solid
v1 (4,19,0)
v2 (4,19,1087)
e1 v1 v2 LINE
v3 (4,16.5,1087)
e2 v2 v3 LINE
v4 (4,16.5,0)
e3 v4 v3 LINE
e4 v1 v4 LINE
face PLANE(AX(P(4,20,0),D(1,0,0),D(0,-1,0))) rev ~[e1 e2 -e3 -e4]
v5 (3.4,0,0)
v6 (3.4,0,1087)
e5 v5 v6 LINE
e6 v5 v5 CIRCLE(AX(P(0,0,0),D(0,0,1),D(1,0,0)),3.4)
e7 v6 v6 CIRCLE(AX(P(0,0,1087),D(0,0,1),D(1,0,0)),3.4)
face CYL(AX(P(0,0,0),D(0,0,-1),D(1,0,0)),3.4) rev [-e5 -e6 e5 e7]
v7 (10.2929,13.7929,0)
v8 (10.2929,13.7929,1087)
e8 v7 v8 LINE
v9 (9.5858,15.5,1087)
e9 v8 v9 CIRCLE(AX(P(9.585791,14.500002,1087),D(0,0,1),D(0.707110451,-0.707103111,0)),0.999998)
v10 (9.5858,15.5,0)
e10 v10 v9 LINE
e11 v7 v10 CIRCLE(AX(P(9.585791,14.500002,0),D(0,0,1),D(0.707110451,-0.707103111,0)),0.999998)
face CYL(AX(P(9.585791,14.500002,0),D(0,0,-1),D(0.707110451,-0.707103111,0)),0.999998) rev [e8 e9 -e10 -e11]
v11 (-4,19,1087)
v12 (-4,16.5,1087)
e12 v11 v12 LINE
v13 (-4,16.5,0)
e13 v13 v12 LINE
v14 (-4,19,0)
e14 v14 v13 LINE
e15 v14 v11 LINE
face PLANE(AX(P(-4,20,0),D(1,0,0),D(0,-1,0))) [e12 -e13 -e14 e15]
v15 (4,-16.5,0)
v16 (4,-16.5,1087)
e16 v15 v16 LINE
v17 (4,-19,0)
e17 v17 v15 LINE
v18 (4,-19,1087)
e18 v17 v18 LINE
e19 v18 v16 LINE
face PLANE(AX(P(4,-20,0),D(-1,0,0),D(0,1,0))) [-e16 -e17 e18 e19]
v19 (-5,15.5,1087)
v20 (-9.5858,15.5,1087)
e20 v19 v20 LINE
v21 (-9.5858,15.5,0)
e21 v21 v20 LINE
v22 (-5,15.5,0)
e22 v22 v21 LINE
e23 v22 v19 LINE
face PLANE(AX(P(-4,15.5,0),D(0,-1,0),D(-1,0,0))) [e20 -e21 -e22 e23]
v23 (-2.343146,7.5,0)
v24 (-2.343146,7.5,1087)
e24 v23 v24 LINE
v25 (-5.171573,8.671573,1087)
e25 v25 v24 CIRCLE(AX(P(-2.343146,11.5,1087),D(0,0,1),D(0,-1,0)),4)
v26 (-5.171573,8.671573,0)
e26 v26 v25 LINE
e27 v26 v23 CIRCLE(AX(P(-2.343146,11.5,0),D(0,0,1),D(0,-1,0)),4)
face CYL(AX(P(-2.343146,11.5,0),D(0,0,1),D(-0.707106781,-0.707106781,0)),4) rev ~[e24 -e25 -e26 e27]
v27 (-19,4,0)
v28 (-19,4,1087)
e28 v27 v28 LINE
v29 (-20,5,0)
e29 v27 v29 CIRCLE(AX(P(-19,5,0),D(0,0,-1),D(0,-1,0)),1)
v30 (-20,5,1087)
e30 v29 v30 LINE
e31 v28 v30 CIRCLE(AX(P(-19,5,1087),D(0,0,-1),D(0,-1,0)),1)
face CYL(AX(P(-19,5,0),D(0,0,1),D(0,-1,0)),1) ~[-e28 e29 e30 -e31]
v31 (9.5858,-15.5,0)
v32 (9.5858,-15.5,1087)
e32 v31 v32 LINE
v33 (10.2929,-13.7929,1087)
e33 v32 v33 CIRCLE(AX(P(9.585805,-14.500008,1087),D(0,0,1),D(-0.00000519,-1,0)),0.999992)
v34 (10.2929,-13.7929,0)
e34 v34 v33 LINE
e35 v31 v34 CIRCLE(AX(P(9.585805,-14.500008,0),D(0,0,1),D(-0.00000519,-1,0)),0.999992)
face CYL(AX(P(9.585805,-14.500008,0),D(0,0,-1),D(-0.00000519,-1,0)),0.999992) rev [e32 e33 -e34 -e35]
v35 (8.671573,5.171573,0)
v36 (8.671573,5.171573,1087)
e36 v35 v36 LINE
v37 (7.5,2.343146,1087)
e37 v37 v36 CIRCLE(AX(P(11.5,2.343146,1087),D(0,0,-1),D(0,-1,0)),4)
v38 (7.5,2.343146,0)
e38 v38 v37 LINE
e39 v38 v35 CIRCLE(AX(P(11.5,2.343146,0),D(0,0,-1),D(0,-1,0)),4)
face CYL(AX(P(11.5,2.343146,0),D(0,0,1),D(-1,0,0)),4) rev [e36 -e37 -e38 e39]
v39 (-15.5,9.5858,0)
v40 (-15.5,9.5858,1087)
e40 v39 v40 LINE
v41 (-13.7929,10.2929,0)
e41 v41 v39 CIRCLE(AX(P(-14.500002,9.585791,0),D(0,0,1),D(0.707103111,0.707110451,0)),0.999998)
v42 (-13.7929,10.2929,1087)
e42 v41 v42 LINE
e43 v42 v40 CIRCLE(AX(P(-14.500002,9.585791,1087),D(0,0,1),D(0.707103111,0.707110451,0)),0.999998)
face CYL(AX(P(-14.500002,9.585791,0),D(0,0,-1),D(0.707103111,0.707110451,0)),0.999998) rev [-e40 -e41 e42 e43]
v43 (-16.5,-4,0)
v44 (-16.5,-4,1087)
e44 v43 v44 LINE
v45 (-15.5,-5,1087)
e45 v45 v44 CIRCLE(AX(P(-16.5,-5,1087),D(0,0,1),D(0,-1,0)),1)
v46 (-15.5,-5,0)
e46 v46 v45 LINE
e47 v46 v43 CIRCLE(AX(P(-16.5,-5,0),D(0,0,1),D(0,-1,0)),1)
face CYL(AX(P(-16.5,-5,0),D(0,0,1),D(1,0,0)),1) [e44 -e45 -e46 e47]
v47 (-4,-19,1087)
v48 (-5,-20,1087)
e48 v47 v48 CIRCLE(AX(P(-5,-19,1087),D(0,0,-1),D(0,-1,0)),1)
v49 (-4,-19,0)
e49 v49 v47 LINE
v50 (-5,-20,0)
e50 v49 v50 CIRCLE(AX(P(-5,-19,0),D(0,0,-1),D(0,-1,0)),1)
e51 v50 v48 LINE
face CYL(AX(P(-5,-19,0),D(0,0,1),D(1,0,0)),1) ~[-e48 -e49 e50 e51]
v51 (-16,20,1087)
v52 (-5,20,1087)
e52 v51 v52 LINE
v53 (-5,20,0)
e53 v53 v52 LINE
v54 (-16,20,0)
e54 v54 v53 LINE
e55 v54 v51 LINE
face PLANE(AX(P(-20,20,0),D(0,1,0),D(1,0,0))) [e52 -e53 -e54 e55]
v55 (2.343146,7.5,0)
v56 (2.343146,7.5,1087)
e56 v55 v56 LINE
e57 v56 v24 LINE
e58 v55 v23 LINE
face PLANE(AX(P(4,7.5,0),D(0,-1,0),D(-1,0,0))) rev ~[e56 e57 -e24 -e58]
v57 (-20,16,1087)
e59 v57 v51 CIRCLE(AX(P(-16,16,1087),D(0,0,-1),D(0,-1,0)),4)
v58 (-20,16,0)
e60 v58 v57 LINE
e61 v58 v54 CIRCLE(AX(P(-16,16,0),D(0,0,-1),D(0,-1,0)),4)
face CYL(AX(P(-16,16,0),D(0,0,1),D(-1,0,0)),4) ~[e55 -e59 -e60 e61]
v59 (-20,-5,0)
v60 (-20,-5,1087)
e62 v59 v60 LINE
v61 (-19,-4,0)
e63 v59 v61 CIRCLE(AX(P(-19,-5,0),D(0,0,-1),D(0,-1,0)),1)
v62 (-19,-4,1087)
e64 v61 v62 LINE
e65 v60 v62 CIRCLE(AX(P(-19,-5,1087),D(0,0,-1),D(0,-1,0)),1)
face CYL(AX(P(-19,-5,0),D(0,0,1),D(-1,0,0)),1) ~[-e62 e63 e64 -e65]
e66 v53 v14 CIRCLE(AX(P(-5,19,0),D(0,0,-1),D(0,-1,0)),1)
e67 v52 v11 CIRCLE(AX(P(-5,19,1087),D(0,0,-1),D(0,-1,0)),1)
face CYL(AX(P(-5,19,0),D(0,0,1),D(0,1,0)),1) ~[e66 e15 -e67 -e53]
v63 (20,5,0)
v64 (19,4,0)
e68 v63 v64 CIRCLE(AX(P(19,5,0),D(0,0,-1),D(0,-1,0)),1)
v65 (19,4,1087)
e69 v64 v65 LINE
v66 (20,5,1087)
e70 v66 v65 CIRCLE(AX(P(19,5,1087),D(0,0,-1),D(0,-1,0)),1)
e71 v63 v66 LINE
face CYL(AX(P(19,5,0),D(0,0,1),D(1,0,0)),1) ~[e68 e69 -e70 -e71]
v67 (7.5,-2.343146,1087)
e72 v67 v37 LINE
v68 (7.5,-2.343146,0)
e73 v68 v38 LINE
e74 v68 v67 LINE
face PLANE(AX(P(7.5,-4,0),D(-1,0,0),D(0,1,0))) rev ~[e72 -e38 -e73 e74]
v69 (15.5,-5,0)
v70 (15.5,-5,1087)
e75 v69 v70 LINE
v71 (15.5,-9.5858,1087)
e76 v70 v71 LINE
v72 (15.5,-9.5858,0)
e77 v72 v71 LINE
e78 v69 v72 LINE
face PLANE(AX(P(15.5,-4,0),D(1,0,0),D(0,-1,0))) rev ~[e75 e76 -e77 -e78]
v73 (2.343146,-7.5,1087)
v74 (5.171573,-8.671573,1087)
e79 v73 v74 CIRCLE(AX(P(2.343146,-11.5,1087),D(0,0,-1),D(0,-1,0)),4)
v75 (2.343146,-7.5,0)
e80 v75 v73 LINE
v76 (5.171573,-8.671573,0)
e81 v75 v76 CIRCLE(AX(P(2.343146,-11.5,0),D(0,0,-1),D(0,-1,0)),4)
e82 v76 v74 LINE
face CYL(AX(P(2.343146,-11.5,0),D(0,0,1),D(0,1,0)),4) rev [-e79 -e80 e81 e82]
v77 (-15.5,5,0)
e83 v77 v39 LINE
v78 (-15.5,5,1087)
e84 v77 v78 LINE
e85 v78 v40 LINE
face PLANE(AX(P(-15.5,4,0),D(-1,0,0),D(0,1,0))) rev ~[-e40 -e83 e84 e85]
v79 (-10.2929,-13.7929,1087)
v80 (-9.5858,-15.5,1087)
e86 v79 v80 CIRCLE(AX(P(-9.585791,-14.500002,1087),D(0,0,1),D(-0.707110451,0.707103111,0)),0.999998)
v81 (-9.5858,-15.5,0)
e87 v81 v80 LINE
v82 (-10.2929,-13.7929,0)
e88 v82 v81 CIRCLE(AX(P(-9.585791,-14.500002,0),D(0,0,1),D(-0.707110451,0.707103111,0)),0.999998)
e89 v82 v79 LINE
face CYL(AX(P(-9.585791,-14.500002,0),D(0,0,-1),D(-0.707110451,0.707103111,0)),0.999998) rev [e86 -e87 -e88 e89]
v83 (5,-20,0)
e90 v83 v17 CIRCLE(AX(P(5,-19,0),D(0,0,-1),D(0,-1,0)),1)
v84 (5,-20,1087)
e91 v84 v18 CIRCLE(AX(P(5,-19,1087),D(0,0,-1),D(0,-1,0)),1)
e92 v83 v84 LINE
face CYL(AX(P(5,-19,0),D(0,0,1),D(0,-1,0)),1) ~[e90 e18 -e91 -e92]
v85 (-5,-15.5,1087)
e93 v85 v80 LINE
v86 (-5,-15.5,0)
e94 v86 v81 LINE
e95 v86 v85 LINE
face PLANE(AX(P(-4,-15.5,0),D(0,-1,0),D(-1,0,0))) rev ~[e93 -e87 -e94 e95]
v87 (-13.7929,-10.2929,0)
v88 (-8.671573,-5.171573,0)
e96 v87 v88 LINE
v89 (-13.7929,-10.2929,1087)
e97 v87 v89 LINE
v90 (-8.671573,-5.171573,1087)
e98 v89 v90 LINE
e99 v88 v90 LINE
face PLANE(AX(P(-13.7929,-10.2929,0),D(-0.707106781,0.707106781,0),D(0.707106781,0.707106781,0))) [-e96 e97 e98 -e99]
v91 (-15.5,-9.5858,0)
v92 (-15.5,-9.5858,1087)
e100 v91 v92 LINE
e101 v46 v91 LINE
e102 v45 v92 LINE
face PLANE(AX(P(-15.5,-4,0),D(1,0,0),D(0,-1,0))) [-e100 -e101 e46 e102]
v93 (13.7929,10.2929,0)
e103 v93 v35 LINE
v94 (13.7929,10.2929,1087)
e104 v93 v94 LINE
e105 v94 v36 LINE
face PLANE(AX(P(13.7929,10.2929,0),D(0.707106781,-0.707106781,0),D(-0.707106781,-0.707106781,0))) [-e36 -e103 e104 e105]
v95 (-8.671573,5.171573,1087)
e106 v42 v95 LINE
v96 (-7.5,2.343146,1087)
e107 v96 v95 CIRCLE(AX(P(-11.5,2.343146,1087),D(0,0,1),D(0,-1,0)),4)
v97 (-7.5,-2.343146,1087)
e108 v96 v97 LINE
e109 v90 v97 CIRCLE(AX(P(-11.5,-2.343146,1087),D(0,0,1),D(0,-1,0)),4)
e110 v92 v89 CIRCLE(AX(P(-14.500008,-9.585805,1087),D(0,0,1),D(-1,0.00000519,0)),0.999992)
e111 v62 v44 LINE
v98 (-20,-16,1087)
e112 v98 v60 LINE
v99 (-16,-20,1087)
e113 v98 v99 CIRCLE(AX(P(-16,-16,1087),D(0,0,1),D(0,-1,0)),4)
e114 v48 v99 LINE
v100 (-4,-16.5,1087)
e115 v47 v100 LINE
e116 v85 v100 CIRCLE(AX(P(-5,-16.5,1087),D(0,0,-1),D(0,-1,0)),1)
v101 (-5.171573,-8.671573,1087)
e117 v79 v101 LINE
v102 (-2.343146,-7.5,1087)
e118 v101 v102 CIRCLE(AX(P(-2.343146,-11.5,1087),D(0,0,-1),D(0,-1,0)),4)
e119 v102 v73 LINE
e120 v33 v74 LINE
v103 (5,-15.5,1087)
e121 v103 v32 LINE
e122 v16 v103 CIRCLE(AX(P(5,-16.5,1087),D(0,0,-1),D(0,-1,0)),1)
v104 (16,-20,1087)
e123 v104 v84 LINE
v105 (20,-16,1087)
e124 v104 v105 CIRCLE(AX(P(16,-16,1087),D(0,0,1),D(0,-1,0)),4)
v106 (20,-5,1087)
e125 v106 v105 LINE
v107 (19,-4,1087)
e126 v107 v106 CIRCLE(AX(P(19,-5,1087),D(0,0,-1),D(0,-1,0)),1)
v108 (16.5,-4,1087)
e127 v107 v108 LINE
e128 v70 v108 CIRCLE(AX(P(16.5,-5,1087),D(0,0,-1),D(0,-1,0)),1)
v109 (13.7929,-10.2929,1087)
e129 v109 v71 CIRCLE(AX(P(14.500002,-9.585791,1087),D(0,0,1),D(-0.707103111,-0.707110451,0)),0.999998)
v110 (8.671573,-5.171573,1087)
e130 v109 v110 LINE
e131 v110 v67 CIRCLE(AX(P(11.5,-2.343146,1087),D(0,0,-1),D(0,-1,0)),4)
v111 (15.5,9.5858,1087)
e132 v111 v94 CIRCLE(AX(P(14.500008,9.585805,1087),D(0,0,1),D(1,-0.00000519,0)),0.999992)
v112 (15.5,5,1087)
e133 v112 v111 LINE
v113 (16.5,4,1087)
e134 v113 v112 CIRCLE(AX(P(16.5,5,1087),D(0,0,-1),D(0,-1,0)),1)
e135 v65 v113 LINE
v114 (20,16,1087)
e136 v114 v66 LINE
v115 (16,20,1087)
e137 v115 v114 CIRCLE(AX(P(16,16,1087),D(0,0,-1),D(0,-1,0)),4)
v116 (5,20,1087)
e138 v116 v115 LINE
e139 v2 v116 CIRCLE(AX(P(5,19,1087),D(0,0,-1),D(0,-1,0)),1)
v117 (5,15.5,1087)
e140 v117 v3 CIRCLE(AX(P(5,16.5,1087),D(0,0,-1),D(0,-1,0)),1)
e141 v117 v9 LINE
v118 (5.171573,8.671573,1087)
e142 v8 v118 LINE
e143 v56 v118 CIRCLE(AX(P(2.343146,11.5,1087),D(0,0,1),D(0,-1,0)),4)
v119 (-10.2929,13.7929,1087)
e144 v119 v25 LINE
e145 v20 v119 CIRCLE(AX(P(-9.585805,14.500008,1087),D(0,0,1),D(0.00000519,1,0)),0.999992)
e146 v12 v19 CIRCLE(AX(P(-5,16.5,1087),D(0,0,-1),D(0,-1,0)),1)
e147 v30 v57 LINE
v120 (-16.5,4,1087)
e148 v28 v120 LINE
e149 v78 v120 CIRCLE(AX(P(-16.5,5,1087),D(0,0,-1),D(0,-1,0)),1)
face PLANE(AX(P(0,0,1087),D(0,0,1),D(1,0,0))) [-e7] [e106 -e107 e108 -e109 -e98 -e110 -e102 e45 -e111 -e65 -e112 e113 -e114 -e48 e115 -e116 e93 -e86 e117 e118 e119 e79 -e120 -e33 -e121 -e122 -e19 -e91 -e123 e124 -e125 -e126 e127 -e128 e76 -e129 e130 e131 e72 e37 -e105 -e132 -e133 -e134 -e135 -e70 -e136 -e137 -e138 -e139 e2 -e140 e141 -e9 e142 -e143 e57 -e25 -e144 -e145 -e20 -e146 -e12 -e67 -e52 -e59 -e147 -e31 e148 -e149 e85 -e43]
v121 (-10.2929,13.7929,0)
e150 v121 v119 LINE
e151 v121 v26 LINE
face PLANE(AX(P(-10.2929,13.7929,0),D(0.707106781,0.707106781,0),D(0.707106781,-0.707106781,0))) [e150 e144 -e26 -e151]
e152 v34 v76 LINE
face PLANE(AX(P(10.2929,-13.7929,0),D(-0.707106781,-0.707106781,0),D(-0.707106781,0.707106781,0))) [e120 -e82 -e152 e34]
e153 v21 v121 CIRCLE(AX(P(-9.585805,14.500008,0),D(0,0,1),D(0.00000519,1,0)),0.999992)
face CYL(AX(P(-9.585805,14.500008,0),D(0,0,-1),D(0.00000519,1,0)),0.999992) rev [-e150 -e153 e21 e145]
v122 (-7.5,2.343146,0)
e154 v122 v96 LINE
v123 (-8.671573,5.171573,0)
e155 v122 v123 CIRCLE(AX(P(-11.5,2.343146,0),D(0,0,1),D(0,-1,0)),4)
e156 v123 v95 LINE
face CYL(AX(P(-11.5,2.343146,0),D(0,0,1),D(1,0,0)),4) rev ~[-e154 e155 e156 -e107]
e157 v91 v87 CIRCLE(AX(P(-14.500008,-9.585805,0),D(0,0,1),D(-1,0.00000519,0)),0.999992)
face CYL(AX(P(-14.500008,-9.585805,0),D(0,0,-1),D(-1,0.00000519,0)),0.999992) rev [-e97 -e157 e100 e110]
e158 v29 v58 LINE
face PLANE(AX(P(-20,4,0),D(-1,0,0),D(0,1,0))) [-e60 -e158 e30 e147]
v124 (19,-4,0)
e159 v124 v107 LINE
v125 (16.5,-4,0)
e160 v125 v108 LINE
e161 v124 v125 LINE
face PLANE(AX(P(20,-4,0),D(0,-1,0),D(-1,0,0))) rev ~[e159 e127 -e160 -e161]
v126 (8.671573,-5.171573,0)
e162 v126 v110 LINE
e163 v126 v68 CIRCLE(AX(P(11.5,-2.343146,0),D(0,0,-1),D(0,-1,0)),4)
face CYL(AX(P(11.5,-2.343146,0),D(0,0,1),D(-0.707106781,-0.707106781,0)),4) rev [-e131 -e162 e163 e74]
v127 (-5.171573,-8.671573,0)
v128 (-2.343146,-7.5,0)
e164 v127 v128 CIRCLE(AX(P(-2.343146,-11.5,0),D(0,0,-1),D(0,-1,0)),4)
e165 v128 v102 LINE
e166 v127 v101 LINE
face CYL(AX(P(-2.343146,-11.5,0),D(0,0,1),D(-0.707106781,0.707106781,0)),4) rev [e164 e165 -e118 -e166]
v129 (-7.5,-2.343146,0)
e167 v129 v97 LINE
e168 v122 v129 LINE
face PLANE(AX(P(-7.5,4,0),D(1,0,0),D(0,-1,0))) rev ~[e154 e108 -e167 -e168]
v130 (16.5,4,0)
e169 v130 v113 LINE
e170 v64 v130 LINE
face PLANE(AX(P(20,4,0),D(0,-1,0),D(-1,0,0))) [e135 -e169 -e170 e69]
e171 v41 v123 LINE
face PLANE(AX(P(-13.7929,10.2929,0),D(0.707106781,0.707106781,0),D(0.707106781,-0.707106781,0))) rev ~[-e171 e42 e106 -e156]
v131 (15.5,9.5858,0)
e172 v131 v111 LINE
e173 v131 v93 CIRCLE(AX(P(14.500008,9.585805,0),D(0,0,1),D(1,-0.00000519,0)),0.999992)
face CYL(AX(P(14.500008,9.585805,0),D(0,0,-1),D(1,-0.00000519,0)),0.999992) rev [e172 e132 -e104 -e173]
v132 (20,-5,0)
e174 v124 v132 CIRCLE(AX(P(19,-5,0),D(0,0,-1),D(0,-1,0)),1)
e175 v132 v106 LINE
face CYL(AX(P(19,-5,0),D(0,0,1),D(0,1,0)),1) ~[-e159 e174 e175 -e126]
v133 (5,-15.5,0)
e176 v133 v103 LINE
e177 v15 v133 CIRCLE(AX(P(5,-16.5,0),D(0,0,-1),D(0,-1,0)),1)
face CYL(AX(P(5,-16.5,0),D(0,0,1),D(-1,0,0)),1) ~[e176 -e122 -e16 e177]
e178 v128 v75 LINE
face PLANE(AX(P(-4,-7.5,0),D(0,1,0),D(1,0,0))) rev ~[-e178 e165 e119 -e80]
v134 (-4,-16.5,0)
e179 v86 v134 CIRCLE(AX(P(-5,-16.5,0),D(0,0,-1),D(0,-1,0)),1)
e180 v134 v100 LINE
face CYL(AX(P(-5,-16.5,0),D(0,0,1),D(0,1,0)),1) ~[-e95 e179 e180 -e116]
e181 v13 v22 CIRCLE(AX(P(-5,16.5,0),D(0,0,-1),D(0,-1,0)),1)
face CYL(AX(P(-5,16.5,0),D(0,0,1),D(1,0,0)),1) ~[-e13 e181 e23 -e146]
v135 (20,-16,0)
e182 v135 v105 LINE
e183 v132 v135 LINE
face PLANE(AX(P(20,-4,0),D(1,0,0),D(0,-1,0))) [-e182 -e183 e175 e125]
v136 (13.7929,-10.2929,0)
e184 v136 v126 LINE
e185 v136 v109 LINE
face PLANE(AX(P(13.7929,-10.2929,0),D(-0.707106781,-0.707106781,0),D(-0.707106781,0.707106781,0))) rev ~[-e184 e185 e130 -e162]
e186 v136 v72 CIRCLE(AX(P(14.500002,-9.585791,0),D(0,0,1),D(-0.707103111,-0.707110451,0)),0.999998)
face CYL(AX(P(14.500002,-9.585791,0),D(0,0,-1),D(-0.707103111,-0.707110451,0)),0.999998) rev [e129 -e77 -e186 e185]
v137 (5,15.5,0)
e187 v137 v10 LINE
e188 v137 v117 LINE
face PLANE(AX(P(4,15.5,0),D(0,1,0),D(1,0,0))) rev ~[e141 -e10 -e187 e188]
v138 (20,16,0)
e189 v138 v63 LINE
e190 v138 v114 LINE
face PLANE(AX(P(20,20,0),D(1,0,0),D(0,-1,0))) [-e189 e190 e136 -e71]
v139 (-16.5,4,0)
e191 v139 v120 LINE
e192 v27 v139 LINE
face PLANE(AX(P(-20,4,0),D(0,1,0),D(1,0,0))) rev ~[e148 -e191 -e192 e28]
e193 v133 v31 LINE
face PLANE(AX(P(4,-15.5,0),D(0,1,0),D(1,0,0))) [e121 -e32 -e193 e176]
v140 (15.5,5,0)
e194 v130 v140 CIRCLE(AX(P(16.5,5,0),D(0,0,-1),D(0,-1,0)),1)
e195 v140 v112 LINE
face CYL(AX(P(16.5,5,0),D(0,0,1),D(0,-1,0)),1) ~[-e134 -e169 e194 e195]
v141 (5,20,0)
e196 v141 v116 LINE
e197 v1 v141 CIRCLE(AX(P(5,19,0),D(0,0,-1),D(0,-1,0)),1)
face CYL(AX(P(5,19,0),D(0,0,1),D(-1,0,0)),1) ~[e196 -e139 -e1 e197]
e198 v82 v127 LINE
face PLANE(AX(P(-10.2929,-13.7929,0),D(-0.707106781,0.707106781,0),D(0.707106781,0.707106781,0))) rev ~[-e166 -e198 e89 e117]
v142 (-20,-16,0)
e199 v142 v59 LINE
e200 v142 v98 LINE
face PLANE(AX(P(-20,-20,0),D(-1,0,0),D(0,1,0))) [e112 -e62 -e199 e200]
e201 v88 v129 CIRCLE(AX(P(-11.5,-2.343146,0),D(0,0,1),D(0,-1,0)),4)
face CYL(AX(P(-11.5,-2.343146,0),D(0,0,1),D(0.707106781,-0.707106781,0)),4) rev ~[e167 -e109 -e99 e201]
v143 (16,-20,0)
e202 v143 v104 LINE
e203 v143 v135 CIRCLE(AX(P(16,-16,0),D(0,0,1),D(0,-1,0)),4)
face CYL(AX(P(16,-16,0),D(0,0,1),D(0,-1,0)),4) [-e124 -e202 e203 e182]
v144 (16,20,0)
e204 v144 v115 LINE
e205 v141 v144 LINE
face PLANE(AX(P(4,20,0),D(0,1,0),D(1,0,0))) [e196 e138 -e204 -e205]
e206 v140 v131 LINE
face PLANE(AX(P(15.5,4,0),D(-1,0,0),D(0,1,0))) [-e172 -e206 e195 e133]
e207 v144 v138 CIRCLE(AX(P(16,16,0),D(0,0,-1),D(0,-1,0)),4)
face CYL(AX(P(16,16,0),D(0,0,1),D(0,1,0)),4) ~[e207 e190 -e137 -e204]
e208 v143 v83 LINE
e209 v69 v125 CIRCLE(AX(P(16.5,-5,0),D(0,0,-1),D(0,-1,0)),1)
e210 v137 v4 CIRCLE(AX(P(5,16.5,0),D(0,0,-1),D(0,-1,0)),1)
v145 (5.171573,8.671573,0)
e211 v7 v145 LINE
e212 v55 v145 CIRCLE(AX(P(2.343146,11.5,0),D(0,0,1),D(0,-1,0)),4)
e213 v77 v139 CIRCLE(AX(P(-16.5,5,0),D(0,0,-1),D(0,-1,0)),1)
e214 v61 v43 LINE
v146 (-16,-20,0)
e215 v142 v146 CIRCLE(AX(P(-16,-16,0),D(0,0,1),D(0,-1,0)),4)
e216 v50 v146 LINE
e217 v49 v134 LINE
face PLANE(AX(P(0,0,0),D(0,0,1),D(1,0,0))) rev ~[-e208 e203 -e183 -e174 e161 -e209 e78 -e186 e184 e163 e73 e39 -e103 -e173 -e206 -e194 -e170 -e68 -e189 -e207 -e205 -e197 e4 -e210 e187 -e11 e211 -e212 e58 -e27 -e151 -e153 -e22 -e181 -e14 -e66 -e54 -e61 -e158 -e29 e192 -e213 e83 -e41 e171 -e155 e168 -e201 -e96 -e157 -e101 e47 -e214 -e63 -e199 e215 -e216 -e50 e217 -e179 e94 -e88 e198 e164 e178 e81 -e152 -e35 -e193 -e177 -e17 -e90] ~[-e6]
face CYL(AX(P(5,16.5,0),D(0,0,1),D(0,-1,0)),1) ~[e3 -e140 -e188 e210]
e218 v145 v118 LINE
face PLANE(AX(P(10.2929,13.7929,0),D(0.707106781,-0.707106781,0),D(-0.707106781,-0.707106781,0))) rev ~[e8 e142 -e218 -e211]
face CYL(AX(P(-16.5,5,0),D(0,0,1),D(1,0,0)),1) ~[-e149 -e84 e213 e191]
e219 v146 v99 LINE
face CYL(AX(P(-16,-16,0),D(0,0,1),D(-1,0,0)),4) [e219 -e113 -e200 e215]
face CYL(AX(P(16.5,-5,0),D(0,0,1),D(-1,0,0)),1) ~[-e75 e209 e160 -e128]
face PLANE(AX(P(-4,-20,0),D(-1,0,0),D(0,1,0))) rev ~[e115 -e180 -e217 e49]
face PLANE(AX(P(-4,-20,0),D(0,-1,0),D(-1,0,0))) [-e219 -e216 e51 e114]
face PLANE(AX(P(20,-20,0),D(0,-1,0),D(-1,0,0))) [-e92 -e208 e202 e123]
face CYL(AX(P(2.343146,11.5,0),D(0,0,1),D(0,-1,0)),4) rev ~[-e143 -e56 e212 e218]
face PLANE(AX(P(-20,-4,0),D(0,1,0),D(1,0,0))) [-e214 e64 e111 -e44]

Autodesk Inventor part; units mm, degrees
ref_plane "YZ Plane" through (0, 0, 0) normal (1, 0, 0) x (0, 1, 0)
ref_plane "XZ Plane" through (0, 0, 0) normal (0, 1, 0) x (-1, 0, 0)
ref_plane "XY Plane" through (0, 0, 0) normal (0, 0, 1) x (1, 0, 0)
sketch "T-Slot 4040 Base" plane through (0, 0, 0) normal (0, 0, 1) x (1, 0, 0)
  line L0 (-28, 0) -> (28, 0) construction
  line L1 (0, -28) -> (0, 28) construction
  circle A0 centre (0, 0) radius 3.4
  line L2 (-7.5, -7.5) -> (7.5, -7.5)
  line L3 (7.5, -7.5) -> (7.5, 7.5)
  line L4 (7.5, 7.5) -> (-7.5, 7.5)
  line L5 (-7.5, 7.5) -> (-7.5, -7.5)
  line L6 (-7.5, -7.5) -> (7.5, 7.5) construction
  line L7 (7.5, -7.5) -> (-7.5, 7.5) construction
  line L8 (20, 4) -> (15.5, 4)
  line L9 (15.5, 4) -> (15.5, 12)
  line L10 (15.5, 12) -> (7.5, 4)
  line L11 (4, 20) -> (4, 15.5)
  line L12 (4, 15.5) -> (12, 15.5)
  line L13 (12, 15.5) -> (4, 7.5)
  line L14 (7.5, -7.5) -> (-7.5, -7.5)
  arc A1 (15.5, 9.5858) -> (13.7929, 10.2929) centre (14.5, 9.5858) ccw
  arc A2 (10.2929, 13.7929) -> (9.5858, 15.5) centre (9.5858, 14.5) ccw
  line L15 (-20, 20) -> (20, 20)
  line L16 (20, 20) -> (20, -20)
  line L17 (20, -20) -> (-20, -20)
  line L18 (-20, -20) -> (-20, 20)
  line L19 (-20, 20) -> (20, -20) construction
  line L20 (20, 20) -> (-20, -20) construction
  line L21 (-4, 15.5) -> (-12, 15.5)
  arc A3 (-9.5858, 15.5) -> (-10.2929, 13.7929) centre (-9.5858, 14.5) ccw
  line L22 (-12, 15.5) -> (-4, 7.5)
  line L23 (-15.5, 12) -> (-7.5, 4)
  line L24 (-20, 4) -> (-15.5, 4)
  arc A4 (-13.7929, 10.2929) -> (-15.5, 9.5858) centre (-14.5, 9.5858) ccw
  line L25 (-15.5, 4) -> (-15.5, 12)
  line L26 (-4, 20) -> (-4, 15.5)
  line L27 (-15.5, -4) -> (-15.5, -12)
  arc A5 (-15.5, -9.5858) -> (-13.7929, -10.2929) centre (-14.5, -9.5858) ccw
  line L28 (-15.5, -12) -> (-7.5, -4)
  line L29 (-12, -15.5) -> (-4, -7.5)
  line L30 (-4, -20) -> (-4, -15.5)
  arc A6 (-10.2929, -13.7929) -> (-9.5858, -15.5) centre (-9.5858, -14.5) ccw
  line L31 (-4, -15.5) -> (-12, -15.5)
  line L32 (-20, -4) -> (-15.5, -4)
  line L33 (4, -15.5) -> (12, -15.5)
  arc A7 (9.5858, -15.5) -> (10.2929, -13.7929) centre (9.5858, -14.5) ccw
  line L34 (12, -15.5) -> (4, -7.5)
  line L35 (15.5, -12) -> (7.5, -4)
  line L36 (20, -4) -> (15.5, -4)
  arc A8 (13.7929, -10.2929) -> (15.5, -9.5858) centre (14.5, -9.5858) ccw
  line L37 (15.5, -4) -> (15.5, -12)
  line L38 (4, -20) -> (4, -15.5)
  point P0 (4.9274, 7.75)
  point P1 (9.5858, 15.5)
  point P2 (-20, 20)
  point P3 (-7.5, -7.5)
  point P4 (-20, -20)
  point P5 (7.5, -7.5)
  point P6 (20, -20)
  point P7 (-9.5858, -15.5)
  point P8 (-4, -7.5)
  point P9 (15.5, -9.5858)
  point P10 (7.5, -4)
  point P11 (-15.5, 9.5858)
  point P12 (-4, 7.5)
  dimension "d35" = 6.8
  dimension "d37" = 12
  dimension "d38" = 1
  dimension "d43" = 40
  dimension "d44" = 40
  dimension "d45" = 4.5
  dimension "d46" = 4
  dimension "d53" = 360
extrude "Extrusion1" add sketch "T-Slot 4040 Base" along normal blind 1087 contours L5 L4 L3 L2 | L2 L29 L31 L30 L17 L18 L32 L27 L28 L5 | L2 L3 L35 L37 L36 L16 L17 L38 L33 L34 | A6 L31 L29 | L23 L25 L24 L18 L15 L26 L21 L22 L4 L5 | L28 L27 A5 | L34 L33 A7 | A4 L25 L23 | L3 L4 L13 L12 L11 L15 L16 L8 L9 L10 | A8 L37 L35 | L22 L21 A3 | L10 L9 A1 | A2 L12 L13
fillet "Rundung1" radius 1 16 edges at (4, 15.5, 543.5) (15.5, 4, 543.5) (20, 4, 543.5) (4, 20, 543.5) (-20, 4, 543.5) (-15.5, 4, 543.5) (-4, 15.5, 543.5) (-4, 20, 543.5) (-4, -15.5, 543.5) (-4, -20, 543.5) (4, -15.5, 543.5) (4, -20, 543.5) (15.5, -4, 543.5) (20, -4, 543.5) (-20, -4, 543.5) (-15.5, -4, 543.5)
fillet "Rundung2" radius 4 12 edges at (4, 7.5, 543.5) (7.5, 4, 543.5) (-20, 20, 543.5) (-20, -20, 543.5) (20, 20, 543.5) (20, -20, 543.5) (7.5, -4, 543.5) (-7.5, -4, 543.5) (-7.5, 4, 543.5) (4, -7.5, 543.5) (-4, -7.5, 543.5) (-4, 7.5, 543.5)
properties part number "T-SLOT 4040 B-Type 1087mm"
